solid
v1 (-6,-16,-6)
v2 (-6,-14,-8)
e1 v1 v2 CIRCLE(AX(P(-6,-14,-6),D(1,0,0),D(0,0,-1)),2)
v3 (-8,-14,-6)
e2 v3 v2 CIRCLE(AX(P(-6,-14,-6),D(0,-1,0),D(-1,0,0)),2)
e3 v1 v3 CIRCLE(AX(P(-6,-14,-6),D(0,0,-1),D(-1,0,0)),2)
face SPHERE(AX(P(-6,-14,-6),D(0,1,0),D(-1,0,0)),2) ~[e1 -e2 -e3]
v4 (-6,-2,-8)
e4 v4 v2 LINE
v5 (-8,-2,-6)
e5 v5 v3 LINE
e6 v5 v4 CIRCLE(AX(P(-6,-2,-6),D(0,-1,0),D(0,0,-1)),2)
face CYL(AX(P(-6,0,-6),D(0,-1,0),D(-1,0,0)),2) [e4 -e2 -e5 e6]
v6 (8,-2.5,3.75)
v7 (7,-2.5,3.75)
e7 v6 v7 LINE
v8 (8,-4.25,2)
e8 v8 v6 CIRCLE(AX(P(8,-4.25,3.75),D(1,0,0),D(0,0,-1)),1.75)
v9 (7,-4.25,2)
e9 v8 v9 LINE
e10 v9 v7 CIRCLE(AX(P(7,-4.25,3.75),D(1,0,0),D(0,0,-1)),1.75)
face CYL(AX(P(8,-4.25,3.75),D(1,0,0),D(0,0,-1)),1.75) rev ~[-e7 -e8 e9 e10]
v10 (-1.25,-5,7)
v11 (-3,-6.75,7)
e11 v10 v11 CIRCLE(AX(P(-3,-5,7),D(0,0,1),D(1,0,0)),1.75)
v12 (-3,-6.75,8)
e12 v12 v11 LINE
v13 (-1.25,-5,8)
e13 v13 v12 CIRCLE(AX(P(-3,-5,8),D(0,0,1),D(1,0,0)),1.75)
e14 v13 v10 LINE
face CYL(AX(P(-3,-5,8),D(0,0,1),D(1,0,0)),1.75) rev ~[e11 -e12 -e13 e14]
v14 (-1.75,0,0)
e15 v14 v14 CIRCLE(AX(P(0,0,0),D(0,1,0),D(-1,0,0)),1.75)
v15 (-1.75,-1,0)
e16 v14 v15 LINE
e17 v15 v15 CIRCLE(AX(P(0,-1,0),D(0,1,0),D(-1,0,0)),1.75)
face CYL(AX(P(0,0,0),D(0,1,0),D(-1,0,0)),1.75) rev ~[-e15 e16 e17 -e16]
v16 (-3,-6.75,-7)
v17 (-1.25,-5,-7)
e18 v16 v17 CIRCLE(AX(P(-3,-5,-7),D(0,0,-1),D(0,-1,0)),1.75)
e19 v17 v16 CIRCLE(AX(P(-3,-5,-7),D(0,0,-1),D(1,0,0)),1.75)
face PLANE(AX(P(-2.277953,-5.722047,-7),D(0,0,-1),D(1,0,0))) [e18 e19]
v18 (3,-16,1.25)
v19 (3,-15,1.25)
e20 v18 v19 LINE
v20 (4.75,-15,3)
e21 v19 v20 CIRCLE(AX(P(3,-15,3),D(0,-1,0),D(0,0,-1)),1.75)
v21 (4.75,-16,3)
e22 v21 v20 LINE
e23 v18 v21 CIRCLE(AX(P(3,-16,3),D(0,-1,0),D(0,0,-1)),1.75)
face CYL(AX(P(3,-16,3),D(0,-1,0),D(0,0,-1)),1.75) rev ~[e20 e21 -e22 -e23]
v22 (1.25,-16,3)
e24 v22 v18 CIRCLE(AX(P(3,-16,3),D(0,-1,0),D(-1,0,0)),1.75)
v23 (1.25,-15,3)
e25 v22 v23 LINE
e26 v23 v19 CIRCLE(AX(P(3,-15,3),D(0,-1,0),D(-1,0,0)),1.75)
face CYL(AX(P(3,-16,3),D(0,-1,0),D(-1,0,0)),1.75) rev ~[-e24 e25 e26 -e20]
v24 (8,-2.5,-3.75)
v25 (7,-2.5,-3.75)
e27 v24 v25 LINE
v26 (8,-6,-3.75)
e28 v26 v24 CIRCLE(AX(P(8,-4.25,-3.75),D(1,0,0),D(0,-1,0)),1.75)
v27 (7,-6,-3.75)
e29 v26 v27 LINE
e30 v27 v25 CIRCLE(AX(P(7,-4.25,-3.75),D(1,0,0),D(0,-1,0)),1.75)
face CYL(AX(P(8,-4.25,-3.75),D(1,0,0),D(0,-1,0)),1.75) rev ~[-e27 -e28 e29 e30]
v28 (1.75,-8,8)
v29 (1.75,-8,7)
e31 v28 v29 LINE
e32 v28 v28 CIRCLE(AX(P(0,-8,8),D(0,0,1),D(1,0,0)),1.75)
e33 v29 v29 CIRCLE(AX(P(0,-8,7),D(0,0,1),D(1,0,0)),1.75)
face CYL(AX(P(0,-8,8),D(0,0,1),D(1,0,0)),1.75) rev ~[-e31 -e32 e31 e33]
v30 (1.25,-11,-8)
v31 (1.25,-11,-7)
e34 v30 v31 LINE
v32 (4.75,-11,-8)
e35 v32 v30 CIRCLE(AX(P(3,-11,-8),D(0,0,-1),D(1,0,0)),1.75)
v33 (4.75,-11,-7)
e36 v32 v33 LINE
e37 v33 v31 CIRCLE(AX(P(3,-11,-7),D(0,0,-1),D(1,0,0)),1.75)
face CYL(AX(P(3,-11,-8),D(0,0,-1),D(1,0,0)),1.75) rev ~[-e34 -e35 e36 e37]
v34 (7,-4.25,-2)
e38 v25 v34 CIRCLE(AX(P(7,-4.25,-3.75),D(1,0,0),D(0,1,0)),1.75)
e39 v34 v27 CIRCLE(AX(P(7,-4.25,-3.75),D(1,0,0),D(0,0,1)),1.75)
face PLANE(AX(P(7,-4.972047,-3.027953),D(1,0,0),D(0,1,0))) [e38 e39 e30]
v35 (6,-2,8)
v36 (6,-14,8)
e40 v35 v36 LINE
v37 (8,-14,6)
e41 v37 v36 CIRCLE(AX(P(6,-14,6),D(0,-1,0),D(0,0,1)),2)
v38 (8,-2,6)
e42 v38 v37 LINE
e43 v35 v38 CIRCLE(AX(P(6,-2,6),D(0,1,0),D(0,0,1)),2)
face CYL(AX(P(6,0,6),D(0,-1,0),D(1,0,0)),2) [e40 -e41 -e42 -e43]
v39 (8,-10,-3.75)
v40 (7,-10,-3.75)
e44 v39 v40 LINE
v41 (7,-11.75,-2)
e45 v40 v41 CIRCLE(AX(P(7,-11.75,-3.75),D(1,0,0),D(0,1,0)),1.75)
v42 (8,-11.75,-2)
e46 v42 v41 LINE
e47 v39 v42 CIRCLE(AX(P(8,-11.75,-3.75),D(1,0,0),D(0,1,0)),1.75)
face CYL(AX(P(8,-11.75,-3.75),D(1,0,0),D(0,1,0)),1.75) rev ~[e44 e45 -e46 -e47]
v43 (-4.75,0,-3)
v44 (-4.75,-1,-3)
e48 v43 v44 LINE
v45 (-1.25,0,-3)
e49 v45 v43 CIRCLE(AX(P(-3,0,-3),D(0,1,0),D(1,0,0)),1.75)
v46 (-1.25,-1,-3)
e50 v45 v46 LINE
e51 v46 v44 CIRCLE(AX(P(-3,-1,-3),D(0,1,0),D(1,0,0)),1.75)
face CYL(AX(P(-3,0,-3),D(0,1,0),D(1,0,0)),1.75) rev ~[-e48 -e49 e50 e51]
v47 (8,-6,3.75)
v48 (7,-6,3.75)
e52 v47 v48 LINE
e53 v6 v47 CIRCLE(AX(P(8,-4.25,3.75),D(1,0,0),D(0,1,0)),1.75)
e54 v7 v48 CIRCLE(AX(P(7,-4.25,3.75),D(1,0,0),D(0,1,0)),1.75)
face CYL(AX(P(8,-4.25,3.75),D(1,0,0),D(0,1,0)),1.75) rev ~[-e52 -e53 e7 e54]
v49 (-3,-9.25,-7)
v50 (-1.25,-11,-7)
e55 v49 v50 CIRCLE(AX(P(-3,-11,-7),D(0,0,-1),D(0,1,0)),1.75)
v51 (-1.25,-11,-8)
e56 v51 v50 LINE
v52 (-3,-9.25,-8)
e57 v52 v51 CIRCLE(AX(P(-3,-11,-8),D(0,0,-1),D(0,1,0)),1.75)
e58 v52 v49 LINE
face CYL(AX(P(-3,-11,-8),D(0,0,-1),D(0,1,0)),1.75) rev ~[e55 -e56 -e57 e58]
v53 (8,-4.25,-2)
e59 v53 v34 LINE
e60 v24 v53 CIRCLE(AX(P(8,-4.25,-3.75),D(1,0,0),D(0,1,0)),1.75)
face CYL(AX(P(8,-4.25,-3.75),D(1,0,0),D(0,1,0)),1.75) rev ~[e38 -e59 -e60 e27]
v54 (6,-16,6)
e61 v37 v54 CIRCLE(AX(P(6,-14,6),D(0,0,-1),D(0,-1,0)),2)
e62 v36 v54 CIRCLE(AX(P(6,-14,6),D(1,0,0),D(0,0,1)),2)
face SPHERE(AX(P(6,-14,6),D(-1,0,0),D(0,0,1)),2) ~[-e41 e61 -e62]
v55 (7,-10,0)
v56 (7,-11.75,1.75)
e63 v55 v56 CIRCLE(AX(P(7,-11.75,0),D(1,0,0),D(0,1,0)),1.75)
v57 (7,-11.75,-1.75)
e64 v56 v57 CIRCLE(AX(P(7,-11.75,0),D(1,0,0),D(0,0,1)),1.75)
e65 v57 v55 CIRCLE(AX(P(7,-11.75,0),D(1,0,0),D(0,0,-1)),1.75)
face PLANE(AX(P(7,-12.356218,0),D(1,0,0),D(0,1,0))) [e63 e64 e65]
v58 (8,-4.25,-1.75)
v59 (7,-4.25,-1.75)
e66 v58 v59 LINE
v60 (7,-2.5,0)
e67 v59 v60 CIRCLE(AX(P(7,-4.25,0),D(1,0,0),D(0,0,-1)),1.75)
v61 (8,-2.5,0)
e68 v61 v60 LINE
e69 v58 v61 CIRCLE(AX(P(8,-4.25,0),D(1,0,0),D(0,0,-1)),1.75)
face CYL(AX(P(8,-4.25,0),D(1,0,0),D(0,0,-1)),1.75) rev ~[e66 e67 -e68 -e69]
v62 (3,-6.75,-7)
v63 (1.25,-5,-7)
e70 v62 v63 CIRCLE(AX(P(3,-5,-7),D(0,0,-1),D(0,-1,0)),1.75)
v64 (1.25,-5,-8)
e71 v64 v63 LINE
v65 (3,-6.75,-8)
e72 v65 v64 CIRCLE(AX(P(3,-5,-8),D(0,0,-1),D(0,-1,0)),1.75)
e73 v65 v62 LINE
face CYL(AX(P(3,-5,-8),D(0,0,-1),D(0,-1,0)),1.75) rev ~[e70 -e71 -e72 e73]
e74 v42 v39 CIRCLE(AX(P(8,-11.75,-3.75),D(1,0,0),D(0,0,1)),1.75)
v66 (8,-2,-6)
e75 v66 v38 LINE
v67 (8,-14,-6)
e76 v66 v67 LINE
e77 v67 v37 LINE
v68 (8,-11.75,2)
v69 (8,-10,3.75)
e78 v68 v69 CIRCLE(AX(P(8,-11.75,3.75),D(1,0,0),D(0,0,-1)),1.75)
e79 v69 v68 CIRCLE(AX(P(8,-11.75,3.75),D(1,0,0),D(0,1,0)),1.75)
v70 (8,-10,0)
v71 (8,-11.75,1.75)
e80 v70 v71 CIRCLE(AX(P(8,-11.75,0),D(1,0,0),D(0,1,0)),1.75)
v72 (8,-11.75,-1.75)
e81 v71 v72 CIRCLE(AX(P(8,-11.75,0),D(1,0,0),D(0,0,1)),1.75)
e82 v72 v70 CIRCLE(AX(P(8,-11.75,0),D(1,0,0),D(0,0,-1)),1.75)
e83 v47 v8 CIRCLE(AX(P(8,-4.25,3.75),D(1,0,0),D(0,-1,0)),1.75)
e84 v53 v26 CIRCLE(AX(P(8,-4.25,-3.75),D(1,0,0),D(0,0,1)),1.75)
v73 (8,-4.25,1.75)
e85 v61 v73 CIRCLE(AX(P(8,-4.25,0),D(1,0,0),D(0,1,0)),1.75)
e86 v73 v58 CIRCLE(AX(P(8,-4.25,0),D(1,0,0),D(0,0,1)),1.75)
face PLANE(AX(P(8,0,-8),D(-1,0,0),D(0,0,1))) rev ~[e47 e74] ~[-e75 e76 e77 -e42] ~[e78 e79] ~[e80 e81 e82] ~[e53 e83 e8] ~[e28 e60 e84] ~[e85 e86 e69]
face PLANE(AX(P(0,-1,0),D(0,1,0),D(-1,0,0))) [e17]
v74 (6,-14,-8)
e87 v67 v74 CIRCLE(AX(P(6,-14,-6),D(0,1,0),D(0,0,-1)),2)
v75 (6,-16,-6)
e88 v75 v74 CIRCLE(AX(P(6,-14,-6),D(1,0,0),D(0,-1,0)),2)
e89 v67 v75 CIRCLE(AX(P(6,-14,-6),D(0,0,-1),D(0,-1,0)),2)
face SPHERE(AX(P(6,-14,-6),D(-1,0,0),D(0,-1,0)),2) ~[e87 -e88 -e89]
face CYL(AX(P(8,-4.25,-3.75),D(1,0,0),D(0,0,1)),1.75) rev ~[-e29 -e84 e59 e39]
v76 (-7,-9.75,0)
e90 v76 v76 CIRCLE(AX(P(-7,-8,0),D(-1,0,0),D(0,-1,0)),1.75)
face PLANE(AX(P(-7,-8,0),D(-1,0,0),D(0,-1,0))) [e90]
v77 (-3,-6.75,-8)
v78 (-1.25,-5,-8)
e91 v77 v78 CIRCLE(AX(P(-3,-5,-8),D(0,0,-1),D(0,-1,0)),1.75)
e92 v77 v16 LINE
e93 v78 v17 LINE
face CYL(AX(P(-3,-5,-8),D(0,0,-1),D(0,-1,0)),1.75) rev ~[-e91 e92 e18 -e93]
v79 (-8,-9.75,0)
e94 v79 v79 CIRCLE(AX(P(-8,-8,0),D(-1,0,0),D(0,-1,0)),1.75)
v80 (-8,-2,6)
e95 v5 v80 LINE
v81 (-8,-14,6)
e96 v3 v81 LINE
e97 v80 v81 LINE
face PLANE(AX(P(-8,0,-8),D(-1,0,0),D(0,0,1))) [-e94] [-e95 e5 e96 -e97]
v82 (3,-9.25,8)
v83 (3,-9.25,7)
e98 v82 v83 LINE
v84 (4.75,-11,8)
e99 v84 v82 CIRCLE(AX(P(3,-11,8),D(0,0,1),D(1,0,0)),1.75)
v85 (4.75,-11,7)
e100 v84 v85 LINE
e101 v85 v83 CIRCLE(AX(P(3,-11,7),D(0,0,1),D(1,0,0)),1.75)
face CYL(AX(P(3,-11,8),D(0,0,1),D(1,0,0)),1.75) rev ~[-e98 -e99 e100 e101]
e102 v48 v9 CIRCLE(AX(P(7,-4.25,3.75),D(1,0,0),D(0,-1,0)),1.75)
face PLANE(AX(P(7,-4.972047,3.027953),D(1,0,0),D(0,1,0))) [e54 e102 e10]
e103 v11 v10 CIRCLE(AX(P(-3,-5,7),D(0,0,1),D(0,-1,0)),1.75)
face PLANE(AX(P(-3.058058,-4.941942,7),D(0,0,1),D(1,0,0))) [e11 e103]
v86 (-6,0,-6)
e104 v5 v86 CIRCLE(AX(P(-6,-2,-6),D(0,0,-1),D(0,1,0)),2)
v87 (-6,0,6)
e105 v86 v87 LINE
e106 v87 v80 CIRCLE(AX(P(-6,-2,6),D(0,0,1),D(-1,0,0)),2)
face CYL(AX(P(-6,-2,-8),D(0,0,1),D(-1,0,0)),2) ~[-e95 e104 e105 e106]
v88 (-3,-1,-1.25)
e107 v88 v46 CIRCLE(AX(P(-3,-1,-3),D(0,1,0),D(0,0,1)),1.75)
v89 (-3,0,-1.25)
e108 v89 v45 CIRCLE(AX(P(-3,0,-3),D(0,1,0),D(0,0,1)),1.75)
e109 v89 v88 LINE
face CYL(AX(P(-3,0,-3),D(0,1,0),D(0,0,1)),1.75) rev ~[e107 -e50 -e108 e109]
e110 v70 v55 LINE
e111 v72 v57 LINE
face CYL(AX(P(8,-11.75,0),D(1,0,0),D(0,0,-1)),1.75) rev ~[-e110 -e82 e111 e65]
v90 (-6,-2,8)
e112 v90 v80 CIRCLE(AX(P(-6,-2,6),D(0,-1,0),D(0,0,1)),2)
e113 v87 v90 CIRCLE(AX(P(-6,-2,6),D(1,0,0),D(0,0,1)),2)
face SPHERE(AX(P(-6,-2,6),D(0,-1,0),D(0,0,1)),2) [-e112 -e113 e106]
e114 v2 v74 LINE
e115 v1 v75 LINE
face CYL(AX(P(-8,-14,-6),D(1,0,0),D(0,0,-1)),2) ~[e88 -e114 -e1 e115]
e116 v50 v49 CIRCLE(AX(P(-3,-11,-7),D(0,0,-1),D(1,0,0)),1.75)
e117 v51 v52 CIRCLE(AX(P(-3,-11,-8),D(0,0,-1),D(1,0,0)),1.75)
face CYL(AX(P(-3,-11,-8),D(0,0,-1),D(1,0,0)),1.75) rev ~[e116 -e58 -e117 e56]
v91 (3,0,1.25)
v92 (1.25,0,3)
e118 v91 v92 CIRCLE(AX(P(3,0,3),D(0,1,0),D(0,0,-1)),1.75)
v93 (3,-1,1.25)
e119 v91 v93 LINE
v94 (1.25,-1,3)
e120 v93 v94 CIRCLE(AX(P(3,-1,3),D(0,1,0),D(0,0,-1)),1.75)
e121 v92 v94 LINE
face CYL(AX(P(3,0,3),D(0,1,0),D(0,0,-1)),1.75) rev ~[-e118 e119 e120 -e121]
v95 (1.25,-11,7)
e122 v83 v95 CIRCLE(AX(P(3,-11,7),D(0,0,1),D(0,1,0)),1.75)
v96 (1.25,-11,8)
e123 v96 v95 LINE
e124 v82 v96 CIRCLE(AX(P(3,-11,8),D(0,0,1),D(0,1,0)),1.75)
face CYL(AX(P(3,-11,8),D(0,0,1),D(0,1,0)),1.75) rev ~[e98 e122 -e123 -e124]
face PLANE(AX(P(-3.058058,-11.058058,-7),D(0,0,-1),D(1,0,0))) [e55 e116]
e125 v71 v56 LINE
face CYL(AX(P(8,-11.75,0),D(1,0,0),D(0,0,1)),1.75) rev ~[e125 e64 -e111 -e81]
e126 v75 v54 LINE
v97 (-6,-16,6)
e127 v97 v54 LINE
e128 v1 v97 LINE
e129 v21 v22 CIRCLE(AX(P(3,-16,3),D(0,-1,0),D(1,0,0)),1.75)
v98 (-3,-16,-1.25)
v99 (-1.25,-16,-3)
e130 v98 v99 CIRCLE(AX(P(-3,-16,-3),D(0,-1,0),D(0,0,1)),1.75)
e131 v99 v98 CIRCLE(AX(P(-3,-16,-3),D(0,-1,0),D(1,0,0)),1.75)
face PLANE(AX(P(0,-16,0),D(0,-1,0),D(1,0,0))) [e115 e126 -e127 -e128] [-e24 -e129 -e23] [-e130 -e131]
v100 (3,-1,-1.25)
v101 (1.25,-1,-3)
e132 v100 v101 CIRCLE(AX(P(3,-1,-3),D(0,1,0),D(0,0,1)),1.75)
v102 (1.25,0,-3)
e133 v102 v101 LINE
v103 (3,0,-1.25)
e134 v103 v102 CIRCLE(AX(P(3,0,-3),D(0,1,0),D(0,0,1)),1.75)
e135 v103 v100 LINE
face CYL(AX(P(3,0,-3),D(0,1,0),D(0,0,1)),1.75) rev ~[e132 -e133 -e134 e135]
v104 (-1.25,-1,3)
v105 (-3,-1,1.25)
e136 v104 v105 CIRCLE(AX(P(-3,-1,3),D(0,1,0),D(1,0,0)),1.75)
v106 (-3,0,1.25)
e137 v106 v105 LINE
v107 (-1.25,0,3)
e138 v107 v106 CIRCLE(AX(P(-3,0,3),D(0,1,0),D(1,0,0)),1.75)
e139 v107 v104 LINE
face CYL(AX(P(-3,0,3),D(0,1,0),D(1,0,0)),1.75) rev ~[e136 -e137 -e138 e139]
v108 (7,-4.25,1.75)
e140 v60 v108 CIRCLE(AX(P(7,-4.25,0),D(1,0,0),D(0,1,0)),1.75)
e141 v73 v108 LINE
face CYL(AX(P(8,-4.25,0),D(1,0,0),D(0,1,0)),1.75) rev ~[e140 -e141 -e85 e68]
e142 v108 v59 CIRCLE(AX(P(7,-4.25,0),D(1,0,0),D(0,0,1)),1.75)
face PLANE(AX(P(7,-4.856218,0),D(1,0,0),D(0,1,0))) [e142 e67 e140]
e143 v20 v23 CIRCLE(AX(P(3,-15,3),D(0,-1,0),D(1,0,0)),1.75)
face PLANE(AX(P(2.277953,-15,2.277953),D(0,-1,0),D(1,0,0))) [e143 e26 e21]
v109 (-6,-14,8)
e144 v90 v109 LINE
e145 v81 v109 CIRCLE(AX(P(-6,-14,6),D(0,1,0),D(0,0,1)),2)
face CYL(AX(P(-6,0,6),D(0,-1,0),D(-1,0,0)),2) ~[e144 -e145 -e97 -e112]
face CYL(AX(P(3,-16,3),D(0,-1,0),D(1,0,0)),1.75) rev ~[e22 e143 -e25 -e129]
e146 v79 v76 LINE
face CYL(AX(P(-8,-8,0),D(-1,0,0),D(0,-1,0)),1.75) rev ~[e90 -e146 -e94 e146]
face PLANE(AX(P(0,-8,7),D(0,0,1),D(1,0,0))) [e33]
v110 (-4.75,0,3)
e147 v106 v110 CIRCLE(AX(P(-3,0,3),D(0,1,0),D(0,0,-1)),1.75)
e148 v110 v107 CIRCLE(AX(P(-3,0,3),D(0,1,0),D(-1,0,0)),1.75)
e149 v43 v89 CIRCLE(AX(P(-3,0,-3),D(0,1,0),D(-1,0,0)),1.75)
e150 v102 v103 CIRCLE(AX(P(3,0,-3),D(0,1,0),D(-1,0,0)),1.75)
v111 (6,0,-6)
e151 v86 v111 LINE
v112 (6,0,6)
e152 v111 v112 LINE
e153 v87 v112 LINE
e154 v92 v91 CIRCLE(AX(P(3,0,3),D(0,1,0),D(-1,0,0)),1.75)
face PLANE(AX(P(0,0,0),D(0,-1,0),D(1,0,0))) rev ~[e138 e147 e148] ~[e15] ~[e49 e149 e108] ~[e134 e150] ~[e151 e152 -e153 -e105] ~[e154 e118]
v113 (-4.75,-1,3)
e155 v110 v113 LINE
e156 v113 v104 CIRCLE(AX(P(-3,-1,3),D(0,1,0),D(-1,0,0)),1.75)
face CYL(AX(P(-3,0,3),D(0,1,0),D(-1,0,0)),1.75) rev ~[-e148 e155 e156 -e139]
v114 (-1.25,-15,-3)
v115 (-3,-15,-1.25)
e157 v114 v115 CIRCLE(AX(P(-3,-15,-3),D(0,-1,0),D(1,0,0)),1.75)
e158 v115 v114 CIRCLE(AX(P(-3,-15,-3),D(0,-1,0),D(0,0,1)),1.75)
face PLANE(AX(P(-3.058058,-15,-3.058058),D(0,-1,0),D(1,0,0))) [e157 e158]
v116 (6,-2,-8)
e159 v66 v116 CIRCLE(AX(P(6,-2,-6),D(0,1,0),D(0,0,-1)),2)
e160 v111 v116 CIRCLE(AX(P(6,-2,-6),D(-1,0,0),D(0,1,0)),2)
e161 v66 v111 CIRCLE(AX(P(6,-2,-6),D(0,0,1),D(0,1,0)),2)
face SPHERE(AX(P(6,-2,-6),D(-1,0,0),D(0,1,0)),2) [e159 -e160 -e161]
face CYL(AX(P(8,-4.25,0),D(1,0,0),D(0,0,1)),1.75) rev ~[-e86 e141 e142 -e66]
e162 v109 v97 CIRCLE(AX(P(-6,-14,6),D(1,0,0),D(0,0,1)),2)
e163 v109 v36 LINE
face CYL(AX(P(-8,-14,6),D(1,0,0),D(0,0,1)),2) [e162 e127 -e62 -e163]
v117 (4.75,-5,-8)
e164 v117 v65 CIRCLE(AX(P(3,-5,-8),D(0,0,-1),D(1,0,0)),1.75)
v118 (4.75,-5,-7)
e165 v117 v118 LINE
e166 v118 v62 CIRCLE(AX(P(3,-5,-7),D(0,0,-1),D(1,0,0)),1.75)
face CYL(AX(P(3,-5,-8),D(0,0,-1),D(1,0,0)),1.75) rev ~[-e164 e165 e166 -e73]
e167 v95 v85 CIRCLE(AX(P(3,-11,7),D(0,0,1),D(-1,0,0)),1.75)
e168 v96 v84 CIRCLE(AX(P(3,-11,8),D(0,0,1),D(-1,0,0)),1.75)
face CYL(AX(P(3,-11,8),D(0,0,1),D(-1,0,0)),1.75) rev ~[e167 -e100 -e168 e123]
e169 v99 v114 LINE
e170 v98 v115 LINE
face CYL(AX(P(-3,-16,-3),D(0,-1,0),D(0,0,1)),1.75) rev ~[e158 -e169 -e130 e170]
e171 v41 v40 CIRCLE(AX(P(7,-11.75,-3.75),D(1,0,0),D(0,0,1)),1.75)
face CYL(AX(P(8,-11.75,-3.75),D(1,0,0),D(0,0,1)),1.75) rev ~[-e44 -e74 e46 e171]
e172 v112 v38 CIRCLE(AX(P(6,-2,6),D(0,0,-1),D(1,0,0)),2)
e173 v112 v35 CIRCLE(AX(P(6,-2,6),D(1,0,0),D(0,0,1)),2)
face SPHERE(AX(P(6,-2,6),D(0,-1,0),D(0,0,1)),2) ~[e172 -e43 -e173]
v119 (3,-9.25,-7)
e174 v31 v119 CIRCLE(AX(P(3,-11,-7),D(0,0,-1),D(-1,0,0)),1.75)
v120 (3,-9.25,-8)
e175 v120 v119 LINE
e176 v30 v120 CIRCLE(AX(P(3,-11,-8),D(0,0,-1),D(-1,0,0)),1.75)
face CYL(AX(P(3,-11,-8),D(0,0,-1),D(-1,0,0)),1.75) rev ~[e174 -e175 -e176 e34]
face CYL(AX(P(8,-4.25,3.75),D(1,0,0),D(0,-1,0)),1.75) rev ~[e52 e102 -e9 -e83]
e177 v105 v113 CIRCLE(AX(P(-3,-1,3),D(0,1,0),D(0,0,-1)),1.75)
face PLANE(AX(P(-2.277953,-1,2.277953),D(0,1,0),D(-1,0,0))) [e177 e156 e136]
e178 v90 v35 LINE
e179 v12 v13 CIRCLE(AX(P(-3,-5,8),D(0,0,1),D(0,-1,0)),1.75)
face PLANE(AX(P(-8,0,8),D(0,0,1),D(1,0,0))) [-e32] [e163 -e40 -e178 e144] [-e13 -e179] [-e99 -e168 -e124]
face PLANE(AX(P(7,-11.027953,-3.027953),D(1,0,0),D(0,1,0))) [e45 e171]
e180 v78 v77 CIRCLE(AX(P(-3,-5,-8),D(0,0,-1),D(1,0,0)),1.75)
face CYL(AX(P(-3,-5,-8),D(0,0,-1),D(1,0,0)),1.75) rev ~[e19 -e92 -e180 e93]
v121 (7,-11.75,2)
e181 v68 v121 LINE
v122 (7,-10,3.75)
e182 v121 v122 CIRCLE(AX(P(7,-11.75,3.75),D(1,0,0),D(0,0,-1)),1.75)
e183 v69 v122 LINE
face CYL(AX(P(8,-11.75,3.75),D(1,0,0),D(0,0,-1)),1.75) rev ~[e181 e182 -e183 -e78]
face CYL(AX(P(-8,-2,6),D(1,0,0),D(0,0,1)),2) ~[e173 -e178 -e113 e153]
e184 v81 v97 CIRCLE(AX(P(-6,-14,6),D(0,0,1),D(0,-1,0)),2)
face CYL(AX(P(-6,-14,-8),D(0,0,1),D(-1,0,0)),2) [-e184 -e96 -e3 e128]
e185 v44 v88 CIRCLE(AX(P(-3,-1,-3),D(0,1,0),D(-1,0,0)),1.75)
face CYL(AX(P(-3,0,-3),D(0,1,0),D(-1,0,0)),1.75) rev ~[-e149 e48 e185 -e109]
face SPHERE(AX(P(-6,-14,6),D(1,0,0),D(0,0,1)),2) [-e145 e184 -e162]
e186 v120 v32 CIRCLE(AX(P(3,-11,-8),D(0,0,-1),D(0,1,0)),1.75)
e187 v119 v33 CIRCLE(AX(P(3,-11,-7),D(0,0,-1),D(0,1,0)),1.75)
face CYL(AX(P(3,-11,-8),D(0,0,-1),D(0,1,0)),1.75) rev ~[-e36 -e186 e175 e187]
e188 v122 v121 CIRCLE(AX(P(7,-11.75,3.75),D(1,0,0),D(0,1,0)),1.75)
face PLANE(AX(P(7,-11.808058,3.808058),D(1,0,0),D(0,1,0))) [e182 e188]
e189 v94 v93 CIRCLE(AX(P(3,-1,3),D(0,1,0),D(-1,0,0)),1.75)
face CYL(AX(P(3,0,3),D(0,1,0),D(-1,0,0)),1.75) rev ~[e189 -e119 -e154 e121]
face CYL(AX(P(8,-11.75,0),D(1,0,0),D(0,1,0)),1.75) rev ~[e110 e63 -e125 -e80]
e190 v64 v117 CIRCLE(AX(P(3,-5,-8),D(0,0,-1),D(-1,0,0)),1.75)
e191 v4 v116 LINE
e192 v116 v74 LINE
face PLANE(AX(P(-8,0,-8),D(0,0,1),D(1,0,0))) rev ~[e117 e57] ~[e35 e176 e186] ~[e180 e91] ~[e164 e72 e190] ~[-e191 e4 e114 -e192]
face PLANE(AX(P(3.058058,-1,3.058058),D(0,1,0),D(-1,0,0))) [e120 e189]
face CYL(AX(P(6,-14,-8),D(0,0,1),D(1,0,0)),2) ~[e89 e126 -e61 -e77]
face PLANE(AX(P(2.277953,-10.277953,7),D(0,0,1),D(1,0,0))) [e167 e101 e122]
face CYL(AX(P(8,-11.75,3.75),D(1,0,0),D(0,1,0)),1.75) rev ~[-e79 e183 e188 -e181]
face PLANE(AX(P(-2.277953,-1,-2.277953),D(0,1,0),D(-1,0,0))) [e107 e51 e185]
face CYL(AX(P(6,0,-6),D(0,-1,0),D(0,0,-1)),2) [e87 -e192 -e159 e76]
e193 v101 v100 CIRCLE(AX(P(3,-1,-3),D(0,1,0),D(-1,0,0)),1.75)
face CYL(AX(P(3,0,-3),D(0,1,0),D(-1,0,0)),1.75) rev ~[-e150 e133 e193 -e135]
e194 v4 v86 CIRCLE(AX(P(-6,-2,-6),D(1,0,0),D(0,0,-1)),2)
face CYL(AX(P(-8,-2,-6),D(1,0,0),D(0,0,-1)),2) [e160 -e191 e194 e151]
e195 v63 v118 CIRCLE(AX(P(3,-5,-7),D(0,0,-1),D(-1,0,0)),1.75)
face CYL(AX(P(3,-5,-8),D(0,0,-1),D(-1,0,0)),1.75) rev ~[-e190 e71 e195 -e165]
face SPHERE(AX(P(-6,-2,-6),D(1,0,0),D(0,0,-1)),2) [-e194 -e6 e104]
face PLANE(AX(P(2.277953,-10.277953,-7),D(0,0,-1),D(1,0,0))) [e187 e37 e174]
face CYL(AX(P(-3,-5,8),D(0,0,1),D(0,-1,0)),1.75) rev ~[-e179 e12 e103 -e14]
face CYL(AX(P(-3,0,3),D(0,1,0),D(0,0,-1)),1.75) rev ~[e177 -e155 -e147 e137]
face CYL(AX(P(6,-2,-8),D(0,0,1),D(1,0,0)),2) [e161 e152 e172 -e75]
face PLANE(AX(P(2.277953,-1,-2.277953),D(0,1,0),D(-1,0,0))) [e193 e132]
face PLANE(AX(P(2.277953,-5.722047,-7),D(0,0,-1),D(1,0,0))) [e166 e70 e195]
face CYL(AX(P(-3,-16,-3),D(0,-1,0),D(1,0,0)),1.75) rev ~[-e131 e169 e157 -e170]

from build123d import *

# Parameters (mm, degrees)
F0_W      = 16
F0_H      = 16
F1_DEPTH  = 16
F2_R      = 2
F4_DEPTH  = 1
F5_R      = 1.75
F6_DEPTH  = 1
F8_DEPTH  = 1
F10_DEPTH = 1
F11_R     = 1.75
F12_DEPTH = 1
F13_R     = 1.75
F14_DEPTH = 1


with BuildPart() as f1:
    # F0 (on Front) → F1 (new body)
    with BuildSketch(Plane.XZ):
        Rectangle(F0_W, F0_H)
    extrude(amount=F1_DEPTH)

    # F2
    f2_edges = [f1.edges().sort_by_distance(p)[0] for p in [
        (0, -16, 8),
        (-8, -8, 8),
        (8, -8, 8),
        (0, 0, 8),
        (0, 0, -8),
        (8, 0, 0),
        (-8, -8, -8),
        (-8, -16, 0),
        (-8, 0, 0),
        (0, -16, -8),
        (8, -16, 0),
        (8, -8, -8),
    ]]
    fillet(f2_edges, radius=F2_R)

    # F3 (on face) → F4 (cut)
    with BuildSketch(Plane.XZ.offset(16)):
        with BuildLine():
            Line((3, 1.25), (3, 3))
            Line((3, 3), (1.25, 3))
            ThreePointArc((1.25, 3), (1.7625631329, 1.7625631329), (3, 1.25))
        make_face()
        with BuildLine():
            Line((-3, -3), (-3, -1.25))
            ThreePointArc((-3, -1.25), (-4.2374368671, -4.2374368671), (-1.25, -3))
            Line((-1.25, -3), (-3, -3))
        make_face()
        with BuildLine():
            ThreePointArc((-1.25, -3), (-1.7625631329, -1.7625631329), (-3, -1.25))
            Line((-3, -1.25), (-3, -3))
            Line((-3, -3), (-1.25, -3))
        make_face()
        with BuildLine():
            Line((1.25, 3), (3, 3))
            Line((3, 3), (3, 1.25))
            ThreePointArc((3, 1.25), (4.2374368671, 1.7625631329), (4.75, 3))
            ThreePointArc((4.75, 3), (3, 4.75), (1.25, 3))
        make_face()
    extrude(amount=-F4_DEPTH, mode=Mode.SUBTRACT)

    # F5 (on face) → F6 (cut)
    with BuildSketch(Plane.XY.offset(8)):
        with BuildLine():
            Line((-3, -5), (-1.25, -5))
            ThreePointArc((-1.25, -5), (-4.2374368671, -3.7625631329), (-3, -6.75))
            Line((-3, -6.75), (-3, -5))
        make_face()
        with BuildLine():
            ThreePointArc((-3, -6.75), (-1.7625631329, -6.2374368671), (-1.25, -5))
            Line((-1.25, -5), (-3, -5))
            Line((-3, -5), (-3, -6.75))
        make_face()
        with BuildLine():
            Line((3, -11), (3, -9.25))
            ThreePointArc((3, -9.25), (1.7625631329, -9.7625631329), (1.25, -11))
            Line((1.25, -11), (3, -11))
        make_face()
        with BuildLine():
            ThreePointArc((4.75, -11), (4.2374368671, -9.7625631329), (3, -9.25))
            Line((3, -9.25), (3, -11))
            Line((3, -11), (1.25, -11))
            ThreePointArc((1.25, -11), (3, -12.75), (4.75, -11))
        make_face()
        with Locations((0, -8)):
            Circle(F5_R)
    extrude(amount=-F6_DEPTH, mode=Mode.SUBTRACT)

    # F7 (on face) → F8 (cut)
    with BuildSketch(Plane.YZ.offset(8)):
        with BuildLine():
            Line((-4.25, 3.75), (-6, 3.75))
            ThreePointArc((-6, 3.75), (-5.4874368671, 2.5125631329), (-4.25, 2))
            Line((-4.25, 2), (-4.25, 3.75))
        make_face()
        with BuildLine():
            ThreePointArc((-2.5, 3.75), (-4.25, 5.5), (-6, 3.75))
            Line((-6, 3.75), (-4.25, 3.75))
            Line((-4.25, 3.75), (-4.25, 2))
            ThreePointArc((-4.25, 2), (-3.0125631329, 2.5125631329), (-2.5, 3.75))
        make_face()
        with BuildLine():
            Line((-11.75, 3.75), (-10, 3.75))
            ThreePointArc((-10, 3.75), (-12.9874368671, 4.9874368671), (-11.75, 2))
            Line((-11.75, 2), (-11.75, 3.75))
        make_face()
        with BuildLine():
            ThreePointArc((-11.75, 2), (-10.5125631329, 2.5125631329), (-10, 3.75))
            Line((-10, 3.75), (-11.75, 3.75))
            Line((-11.75, 3.75), (-11.75, 2))
        make_face()
        with BuildLine():
            Line((-4.25, -3.75), (-4.25, -2))
            ThreePointArc((-4.25, -2), (-5.4874368671, -2.5125631329), (-6, -3.75))
            Line((-6, -3.75), (-4.25, -3.75))
        make_face()
        with BuildLine():
            ThreePointArc((-2.5, -3.75), (-3.0125631329, -2.5125631329), (-4.25, -2))
            Line((-4.25, -2), (-4.25, -3.75))
            Line((-4.25, -3.75), (-6, -3.75))
            ThreePointArc((-6, -3.75), (-4.25, -5.5), (-2.5, -3.75))
        make_face()
        with BuildLine():
            ThreePointArc((-10, -3.75), (-10.5125631329, -2.5125631329), (-11.75, -2))
            Line((-11.75, -2), (-11.75, -3.75))
            Line((-11.75, -3.75), (-10, -3.75))
        make_face()
        with BuildLine():
            Line((-11.75, -3.75), (-11.75, -2))
            ThreePointArc((-11.75, -2), (-12.9874368671, -4.9874368671), (-10, -3.75))
            Line((-10, -3.75), (-11.75, -3.75))
        make_face()
        with BuildLine():
            Line((-4.25, -1.75), (-4.25, 1.75))
            ThreePointArc((-4.25, 1.75), (-6, 0), (-4.25, -1.75))
        make_face()
        with BuildLine():
            ThreePointArc((-2.5, 0), (-3.0125631329, 1.2374368671), (-4.25, 1.75))
            Line((-4.25, 1.75), (-4.25, -1.75))
            ThreePointArc((-4.25, -1.75), (-3.0125631329, -1.2374368671), (-2.5, 0))
        make_face()
        with BuildLine():
            Line((-11.75, -1.75), (-11.75, 1.75))
            ThreePointArc((-11.75, 1.75), (-13.5, 0), (-11.75, -1.75))
        make_face()
        with BuildLine():
            ThreePointArc((-10, 0), (-10.5125631329, 1.2374368671), (-11.75, 1.75))
            Line((-11.75, 1.75), (-11.75, -1.75))
            ThreePointArc((-11.75, -1.75), (-10.5125631329, -1.2374368671), (-10, 0))
        make_face()
    extrude(amount=-F8_DEPTH, mode=Mode.SUBTRACT)

    # F9 (on face) → F10 (cut)
    with BuildSketch(Plane(origin=(0, 0, -8), x_dir=(1, 0, 0), z_dir=(0, 0, -1))):
        with BuildLine():
            Line((3, 11), (1.25, 11))
            ThreePointArc((1.25, 11), (1.7625631329, 9.7625631329), (3, 9.25))
            Line((3, 9.25), (3, 11))
        make_face()
        with BuildLine():
            ThreePointArc((4.75, 11), (3, 12.75), (1.25, 11))
            Line((1.25, 11), (3, 11))
            Line((3, 11), (3, 9.25))
            ThreePointArc((3, 9.25), (4.2374368671, 9.7625631329), (4.75, 11))
        make_face()
        with BuildLine():
            Line((-3, 11), (-1.25, 11))
            ThreePointArc((-1.25, 11), (-4.2374368671, 12.2374368671), (-3, 9.25))
            Line((-3, 9.25), (-3, 11))
        make_face()
        with BuildLine():
            ThreePointArc((-3, 9.25), (-1.7625631329, 9.7625631329), (-1.25, 11))
            Line((-1.25, 11), (-3, 11))
            Line((-3, 11), (-3, 9.25))
        make_face()
        with BuildLine():
            Line((3, 5), (3, 6.75))
            ThreePointArc((3, 6.75), (1.7625631329, 6.2374368671), (1.25, 5))
            Line((1.25, 5), (3, 5))
        make_face()
        with BuildLine():
            ThreePointArc((4.75, 5), (4.2374368671, 6.2374368671), (3, 6.75))
            Line((3, 6.75), (3, 5))
            Line((3, 5), (1.25, 5))
            ThreePointArc((1.25, 5), (3, 3.25), (4.75, 5))
        make_face()
        with BuildLine():
            ThreePointArc((-1.25, 5), (-1.7625631329, 6.2374368671), (-3, 6.75))
            Line((-3, 6.75), (-3, 5))
            Line((-3, 5), (-1.25, 5))
        make_face()
        with BuildLine():
            Line((-3, 5), (-3, 6.75))
            ThreePointArc((-3, 6.75), (-4.2374368671, 3.7625631329), (-1.25, 5))
            Line((-1.25, 5), (-3, 5))
        make_face()
    extrude(amount=-F10_DEPTH, mode=Mode.SUBTRACT)

    # F11 (on face) → F12 (cut)
    with BuildSketch(Plane(origin=(-8, 0, 0), x_dir=(0, -1, 0), z_dir=(-1, 0, 0))):
        with Locations((8, 0)):
            Circle(F11_R)
    extrude(amount=-F12_DEPTH, mode=Mode.SUBTRACT)

    # F13 (on face) → F14 (cut)
    with BuildSketch(Plane(origin=(0, 0, 0), x_dir=(-1, 0, 0), z_dir=(0, 1, 0))):
        with BuildLine():
            Line((3, 3), (1.25, 3))
            ThreePointArc((1.25, 3), (1.7625631329, 1.7625631329), (3, 1.25))
            Line((3, 1.25), (3, 3))
        make_face()
        with BuildLine():
            ThreePointArc((4.75, 3), (3, 4.75), (1.25, 3))
            Line((1.25, 3), (3, 3))
            Line((3, 3), (3, 1.25))
            ThreePointArc((3, 1.25), (4.2374368671, 1.7625631329), (4.75, 3))
        make_face()
        with BuildLine():
            Line((-3, 3), (-1.25, 3))
            ThreePointArc((-1.25, 3), (-4.2374368671, 4.2374368671), (-3, 1.25))
            Line((-3, 1.25), (-3, 3))
        make_face()
        with BuildLine():
            ThreePointArc((-3, 1.25), (-1.7625631329, 1.7625631329), (-1.25, 3))
            Line((-1.25, 3), (-3, 3))
            Line((-3, 3), (-3, 1.25))
        make_face()
        with BuildLine():
            Line((3, -3), (3, -1.25))
            ThreePointArc((3, -1.25), (1.7625631329, -1.7625631329), (1.25, -3))
            Line((1.25, -3), (3, -3))
        make_face()
        with BuildLine():
            ThreePointArc((4.75, -3), (4.2374368671, -1.7625631329), (3, -1.25))
            Line((3, -1.25), (3, -3))
            Line((3, -3), (1.25, -3))
            ThreePointArc((1.25, -3), (3, -4.75), (4.75, -3))
        make_face()
        with BuildLine():
            ThreePointArc((-1.25, -3), (-1.7625631329, -1.7625631329), (-3, -1.25))
            Line((-3, -1.25), (-3, -3))
            Line((-3, -3), (-1.25, -3))
        make_face()
        with BuildLine():
            Line((-3, -3), (-3, -1.25))
            ThreePointArc((-3, -1.25), (-4.2374368671, -4.2374368671), (-1.25, -3))
            Line((-1.25, -3), (-3, -3))
        make_face()
        Circle(F13_R)
    extrude(amount=-F14_DEPTH, mode=Mode.SUBTRACT)


solid = f1.part
